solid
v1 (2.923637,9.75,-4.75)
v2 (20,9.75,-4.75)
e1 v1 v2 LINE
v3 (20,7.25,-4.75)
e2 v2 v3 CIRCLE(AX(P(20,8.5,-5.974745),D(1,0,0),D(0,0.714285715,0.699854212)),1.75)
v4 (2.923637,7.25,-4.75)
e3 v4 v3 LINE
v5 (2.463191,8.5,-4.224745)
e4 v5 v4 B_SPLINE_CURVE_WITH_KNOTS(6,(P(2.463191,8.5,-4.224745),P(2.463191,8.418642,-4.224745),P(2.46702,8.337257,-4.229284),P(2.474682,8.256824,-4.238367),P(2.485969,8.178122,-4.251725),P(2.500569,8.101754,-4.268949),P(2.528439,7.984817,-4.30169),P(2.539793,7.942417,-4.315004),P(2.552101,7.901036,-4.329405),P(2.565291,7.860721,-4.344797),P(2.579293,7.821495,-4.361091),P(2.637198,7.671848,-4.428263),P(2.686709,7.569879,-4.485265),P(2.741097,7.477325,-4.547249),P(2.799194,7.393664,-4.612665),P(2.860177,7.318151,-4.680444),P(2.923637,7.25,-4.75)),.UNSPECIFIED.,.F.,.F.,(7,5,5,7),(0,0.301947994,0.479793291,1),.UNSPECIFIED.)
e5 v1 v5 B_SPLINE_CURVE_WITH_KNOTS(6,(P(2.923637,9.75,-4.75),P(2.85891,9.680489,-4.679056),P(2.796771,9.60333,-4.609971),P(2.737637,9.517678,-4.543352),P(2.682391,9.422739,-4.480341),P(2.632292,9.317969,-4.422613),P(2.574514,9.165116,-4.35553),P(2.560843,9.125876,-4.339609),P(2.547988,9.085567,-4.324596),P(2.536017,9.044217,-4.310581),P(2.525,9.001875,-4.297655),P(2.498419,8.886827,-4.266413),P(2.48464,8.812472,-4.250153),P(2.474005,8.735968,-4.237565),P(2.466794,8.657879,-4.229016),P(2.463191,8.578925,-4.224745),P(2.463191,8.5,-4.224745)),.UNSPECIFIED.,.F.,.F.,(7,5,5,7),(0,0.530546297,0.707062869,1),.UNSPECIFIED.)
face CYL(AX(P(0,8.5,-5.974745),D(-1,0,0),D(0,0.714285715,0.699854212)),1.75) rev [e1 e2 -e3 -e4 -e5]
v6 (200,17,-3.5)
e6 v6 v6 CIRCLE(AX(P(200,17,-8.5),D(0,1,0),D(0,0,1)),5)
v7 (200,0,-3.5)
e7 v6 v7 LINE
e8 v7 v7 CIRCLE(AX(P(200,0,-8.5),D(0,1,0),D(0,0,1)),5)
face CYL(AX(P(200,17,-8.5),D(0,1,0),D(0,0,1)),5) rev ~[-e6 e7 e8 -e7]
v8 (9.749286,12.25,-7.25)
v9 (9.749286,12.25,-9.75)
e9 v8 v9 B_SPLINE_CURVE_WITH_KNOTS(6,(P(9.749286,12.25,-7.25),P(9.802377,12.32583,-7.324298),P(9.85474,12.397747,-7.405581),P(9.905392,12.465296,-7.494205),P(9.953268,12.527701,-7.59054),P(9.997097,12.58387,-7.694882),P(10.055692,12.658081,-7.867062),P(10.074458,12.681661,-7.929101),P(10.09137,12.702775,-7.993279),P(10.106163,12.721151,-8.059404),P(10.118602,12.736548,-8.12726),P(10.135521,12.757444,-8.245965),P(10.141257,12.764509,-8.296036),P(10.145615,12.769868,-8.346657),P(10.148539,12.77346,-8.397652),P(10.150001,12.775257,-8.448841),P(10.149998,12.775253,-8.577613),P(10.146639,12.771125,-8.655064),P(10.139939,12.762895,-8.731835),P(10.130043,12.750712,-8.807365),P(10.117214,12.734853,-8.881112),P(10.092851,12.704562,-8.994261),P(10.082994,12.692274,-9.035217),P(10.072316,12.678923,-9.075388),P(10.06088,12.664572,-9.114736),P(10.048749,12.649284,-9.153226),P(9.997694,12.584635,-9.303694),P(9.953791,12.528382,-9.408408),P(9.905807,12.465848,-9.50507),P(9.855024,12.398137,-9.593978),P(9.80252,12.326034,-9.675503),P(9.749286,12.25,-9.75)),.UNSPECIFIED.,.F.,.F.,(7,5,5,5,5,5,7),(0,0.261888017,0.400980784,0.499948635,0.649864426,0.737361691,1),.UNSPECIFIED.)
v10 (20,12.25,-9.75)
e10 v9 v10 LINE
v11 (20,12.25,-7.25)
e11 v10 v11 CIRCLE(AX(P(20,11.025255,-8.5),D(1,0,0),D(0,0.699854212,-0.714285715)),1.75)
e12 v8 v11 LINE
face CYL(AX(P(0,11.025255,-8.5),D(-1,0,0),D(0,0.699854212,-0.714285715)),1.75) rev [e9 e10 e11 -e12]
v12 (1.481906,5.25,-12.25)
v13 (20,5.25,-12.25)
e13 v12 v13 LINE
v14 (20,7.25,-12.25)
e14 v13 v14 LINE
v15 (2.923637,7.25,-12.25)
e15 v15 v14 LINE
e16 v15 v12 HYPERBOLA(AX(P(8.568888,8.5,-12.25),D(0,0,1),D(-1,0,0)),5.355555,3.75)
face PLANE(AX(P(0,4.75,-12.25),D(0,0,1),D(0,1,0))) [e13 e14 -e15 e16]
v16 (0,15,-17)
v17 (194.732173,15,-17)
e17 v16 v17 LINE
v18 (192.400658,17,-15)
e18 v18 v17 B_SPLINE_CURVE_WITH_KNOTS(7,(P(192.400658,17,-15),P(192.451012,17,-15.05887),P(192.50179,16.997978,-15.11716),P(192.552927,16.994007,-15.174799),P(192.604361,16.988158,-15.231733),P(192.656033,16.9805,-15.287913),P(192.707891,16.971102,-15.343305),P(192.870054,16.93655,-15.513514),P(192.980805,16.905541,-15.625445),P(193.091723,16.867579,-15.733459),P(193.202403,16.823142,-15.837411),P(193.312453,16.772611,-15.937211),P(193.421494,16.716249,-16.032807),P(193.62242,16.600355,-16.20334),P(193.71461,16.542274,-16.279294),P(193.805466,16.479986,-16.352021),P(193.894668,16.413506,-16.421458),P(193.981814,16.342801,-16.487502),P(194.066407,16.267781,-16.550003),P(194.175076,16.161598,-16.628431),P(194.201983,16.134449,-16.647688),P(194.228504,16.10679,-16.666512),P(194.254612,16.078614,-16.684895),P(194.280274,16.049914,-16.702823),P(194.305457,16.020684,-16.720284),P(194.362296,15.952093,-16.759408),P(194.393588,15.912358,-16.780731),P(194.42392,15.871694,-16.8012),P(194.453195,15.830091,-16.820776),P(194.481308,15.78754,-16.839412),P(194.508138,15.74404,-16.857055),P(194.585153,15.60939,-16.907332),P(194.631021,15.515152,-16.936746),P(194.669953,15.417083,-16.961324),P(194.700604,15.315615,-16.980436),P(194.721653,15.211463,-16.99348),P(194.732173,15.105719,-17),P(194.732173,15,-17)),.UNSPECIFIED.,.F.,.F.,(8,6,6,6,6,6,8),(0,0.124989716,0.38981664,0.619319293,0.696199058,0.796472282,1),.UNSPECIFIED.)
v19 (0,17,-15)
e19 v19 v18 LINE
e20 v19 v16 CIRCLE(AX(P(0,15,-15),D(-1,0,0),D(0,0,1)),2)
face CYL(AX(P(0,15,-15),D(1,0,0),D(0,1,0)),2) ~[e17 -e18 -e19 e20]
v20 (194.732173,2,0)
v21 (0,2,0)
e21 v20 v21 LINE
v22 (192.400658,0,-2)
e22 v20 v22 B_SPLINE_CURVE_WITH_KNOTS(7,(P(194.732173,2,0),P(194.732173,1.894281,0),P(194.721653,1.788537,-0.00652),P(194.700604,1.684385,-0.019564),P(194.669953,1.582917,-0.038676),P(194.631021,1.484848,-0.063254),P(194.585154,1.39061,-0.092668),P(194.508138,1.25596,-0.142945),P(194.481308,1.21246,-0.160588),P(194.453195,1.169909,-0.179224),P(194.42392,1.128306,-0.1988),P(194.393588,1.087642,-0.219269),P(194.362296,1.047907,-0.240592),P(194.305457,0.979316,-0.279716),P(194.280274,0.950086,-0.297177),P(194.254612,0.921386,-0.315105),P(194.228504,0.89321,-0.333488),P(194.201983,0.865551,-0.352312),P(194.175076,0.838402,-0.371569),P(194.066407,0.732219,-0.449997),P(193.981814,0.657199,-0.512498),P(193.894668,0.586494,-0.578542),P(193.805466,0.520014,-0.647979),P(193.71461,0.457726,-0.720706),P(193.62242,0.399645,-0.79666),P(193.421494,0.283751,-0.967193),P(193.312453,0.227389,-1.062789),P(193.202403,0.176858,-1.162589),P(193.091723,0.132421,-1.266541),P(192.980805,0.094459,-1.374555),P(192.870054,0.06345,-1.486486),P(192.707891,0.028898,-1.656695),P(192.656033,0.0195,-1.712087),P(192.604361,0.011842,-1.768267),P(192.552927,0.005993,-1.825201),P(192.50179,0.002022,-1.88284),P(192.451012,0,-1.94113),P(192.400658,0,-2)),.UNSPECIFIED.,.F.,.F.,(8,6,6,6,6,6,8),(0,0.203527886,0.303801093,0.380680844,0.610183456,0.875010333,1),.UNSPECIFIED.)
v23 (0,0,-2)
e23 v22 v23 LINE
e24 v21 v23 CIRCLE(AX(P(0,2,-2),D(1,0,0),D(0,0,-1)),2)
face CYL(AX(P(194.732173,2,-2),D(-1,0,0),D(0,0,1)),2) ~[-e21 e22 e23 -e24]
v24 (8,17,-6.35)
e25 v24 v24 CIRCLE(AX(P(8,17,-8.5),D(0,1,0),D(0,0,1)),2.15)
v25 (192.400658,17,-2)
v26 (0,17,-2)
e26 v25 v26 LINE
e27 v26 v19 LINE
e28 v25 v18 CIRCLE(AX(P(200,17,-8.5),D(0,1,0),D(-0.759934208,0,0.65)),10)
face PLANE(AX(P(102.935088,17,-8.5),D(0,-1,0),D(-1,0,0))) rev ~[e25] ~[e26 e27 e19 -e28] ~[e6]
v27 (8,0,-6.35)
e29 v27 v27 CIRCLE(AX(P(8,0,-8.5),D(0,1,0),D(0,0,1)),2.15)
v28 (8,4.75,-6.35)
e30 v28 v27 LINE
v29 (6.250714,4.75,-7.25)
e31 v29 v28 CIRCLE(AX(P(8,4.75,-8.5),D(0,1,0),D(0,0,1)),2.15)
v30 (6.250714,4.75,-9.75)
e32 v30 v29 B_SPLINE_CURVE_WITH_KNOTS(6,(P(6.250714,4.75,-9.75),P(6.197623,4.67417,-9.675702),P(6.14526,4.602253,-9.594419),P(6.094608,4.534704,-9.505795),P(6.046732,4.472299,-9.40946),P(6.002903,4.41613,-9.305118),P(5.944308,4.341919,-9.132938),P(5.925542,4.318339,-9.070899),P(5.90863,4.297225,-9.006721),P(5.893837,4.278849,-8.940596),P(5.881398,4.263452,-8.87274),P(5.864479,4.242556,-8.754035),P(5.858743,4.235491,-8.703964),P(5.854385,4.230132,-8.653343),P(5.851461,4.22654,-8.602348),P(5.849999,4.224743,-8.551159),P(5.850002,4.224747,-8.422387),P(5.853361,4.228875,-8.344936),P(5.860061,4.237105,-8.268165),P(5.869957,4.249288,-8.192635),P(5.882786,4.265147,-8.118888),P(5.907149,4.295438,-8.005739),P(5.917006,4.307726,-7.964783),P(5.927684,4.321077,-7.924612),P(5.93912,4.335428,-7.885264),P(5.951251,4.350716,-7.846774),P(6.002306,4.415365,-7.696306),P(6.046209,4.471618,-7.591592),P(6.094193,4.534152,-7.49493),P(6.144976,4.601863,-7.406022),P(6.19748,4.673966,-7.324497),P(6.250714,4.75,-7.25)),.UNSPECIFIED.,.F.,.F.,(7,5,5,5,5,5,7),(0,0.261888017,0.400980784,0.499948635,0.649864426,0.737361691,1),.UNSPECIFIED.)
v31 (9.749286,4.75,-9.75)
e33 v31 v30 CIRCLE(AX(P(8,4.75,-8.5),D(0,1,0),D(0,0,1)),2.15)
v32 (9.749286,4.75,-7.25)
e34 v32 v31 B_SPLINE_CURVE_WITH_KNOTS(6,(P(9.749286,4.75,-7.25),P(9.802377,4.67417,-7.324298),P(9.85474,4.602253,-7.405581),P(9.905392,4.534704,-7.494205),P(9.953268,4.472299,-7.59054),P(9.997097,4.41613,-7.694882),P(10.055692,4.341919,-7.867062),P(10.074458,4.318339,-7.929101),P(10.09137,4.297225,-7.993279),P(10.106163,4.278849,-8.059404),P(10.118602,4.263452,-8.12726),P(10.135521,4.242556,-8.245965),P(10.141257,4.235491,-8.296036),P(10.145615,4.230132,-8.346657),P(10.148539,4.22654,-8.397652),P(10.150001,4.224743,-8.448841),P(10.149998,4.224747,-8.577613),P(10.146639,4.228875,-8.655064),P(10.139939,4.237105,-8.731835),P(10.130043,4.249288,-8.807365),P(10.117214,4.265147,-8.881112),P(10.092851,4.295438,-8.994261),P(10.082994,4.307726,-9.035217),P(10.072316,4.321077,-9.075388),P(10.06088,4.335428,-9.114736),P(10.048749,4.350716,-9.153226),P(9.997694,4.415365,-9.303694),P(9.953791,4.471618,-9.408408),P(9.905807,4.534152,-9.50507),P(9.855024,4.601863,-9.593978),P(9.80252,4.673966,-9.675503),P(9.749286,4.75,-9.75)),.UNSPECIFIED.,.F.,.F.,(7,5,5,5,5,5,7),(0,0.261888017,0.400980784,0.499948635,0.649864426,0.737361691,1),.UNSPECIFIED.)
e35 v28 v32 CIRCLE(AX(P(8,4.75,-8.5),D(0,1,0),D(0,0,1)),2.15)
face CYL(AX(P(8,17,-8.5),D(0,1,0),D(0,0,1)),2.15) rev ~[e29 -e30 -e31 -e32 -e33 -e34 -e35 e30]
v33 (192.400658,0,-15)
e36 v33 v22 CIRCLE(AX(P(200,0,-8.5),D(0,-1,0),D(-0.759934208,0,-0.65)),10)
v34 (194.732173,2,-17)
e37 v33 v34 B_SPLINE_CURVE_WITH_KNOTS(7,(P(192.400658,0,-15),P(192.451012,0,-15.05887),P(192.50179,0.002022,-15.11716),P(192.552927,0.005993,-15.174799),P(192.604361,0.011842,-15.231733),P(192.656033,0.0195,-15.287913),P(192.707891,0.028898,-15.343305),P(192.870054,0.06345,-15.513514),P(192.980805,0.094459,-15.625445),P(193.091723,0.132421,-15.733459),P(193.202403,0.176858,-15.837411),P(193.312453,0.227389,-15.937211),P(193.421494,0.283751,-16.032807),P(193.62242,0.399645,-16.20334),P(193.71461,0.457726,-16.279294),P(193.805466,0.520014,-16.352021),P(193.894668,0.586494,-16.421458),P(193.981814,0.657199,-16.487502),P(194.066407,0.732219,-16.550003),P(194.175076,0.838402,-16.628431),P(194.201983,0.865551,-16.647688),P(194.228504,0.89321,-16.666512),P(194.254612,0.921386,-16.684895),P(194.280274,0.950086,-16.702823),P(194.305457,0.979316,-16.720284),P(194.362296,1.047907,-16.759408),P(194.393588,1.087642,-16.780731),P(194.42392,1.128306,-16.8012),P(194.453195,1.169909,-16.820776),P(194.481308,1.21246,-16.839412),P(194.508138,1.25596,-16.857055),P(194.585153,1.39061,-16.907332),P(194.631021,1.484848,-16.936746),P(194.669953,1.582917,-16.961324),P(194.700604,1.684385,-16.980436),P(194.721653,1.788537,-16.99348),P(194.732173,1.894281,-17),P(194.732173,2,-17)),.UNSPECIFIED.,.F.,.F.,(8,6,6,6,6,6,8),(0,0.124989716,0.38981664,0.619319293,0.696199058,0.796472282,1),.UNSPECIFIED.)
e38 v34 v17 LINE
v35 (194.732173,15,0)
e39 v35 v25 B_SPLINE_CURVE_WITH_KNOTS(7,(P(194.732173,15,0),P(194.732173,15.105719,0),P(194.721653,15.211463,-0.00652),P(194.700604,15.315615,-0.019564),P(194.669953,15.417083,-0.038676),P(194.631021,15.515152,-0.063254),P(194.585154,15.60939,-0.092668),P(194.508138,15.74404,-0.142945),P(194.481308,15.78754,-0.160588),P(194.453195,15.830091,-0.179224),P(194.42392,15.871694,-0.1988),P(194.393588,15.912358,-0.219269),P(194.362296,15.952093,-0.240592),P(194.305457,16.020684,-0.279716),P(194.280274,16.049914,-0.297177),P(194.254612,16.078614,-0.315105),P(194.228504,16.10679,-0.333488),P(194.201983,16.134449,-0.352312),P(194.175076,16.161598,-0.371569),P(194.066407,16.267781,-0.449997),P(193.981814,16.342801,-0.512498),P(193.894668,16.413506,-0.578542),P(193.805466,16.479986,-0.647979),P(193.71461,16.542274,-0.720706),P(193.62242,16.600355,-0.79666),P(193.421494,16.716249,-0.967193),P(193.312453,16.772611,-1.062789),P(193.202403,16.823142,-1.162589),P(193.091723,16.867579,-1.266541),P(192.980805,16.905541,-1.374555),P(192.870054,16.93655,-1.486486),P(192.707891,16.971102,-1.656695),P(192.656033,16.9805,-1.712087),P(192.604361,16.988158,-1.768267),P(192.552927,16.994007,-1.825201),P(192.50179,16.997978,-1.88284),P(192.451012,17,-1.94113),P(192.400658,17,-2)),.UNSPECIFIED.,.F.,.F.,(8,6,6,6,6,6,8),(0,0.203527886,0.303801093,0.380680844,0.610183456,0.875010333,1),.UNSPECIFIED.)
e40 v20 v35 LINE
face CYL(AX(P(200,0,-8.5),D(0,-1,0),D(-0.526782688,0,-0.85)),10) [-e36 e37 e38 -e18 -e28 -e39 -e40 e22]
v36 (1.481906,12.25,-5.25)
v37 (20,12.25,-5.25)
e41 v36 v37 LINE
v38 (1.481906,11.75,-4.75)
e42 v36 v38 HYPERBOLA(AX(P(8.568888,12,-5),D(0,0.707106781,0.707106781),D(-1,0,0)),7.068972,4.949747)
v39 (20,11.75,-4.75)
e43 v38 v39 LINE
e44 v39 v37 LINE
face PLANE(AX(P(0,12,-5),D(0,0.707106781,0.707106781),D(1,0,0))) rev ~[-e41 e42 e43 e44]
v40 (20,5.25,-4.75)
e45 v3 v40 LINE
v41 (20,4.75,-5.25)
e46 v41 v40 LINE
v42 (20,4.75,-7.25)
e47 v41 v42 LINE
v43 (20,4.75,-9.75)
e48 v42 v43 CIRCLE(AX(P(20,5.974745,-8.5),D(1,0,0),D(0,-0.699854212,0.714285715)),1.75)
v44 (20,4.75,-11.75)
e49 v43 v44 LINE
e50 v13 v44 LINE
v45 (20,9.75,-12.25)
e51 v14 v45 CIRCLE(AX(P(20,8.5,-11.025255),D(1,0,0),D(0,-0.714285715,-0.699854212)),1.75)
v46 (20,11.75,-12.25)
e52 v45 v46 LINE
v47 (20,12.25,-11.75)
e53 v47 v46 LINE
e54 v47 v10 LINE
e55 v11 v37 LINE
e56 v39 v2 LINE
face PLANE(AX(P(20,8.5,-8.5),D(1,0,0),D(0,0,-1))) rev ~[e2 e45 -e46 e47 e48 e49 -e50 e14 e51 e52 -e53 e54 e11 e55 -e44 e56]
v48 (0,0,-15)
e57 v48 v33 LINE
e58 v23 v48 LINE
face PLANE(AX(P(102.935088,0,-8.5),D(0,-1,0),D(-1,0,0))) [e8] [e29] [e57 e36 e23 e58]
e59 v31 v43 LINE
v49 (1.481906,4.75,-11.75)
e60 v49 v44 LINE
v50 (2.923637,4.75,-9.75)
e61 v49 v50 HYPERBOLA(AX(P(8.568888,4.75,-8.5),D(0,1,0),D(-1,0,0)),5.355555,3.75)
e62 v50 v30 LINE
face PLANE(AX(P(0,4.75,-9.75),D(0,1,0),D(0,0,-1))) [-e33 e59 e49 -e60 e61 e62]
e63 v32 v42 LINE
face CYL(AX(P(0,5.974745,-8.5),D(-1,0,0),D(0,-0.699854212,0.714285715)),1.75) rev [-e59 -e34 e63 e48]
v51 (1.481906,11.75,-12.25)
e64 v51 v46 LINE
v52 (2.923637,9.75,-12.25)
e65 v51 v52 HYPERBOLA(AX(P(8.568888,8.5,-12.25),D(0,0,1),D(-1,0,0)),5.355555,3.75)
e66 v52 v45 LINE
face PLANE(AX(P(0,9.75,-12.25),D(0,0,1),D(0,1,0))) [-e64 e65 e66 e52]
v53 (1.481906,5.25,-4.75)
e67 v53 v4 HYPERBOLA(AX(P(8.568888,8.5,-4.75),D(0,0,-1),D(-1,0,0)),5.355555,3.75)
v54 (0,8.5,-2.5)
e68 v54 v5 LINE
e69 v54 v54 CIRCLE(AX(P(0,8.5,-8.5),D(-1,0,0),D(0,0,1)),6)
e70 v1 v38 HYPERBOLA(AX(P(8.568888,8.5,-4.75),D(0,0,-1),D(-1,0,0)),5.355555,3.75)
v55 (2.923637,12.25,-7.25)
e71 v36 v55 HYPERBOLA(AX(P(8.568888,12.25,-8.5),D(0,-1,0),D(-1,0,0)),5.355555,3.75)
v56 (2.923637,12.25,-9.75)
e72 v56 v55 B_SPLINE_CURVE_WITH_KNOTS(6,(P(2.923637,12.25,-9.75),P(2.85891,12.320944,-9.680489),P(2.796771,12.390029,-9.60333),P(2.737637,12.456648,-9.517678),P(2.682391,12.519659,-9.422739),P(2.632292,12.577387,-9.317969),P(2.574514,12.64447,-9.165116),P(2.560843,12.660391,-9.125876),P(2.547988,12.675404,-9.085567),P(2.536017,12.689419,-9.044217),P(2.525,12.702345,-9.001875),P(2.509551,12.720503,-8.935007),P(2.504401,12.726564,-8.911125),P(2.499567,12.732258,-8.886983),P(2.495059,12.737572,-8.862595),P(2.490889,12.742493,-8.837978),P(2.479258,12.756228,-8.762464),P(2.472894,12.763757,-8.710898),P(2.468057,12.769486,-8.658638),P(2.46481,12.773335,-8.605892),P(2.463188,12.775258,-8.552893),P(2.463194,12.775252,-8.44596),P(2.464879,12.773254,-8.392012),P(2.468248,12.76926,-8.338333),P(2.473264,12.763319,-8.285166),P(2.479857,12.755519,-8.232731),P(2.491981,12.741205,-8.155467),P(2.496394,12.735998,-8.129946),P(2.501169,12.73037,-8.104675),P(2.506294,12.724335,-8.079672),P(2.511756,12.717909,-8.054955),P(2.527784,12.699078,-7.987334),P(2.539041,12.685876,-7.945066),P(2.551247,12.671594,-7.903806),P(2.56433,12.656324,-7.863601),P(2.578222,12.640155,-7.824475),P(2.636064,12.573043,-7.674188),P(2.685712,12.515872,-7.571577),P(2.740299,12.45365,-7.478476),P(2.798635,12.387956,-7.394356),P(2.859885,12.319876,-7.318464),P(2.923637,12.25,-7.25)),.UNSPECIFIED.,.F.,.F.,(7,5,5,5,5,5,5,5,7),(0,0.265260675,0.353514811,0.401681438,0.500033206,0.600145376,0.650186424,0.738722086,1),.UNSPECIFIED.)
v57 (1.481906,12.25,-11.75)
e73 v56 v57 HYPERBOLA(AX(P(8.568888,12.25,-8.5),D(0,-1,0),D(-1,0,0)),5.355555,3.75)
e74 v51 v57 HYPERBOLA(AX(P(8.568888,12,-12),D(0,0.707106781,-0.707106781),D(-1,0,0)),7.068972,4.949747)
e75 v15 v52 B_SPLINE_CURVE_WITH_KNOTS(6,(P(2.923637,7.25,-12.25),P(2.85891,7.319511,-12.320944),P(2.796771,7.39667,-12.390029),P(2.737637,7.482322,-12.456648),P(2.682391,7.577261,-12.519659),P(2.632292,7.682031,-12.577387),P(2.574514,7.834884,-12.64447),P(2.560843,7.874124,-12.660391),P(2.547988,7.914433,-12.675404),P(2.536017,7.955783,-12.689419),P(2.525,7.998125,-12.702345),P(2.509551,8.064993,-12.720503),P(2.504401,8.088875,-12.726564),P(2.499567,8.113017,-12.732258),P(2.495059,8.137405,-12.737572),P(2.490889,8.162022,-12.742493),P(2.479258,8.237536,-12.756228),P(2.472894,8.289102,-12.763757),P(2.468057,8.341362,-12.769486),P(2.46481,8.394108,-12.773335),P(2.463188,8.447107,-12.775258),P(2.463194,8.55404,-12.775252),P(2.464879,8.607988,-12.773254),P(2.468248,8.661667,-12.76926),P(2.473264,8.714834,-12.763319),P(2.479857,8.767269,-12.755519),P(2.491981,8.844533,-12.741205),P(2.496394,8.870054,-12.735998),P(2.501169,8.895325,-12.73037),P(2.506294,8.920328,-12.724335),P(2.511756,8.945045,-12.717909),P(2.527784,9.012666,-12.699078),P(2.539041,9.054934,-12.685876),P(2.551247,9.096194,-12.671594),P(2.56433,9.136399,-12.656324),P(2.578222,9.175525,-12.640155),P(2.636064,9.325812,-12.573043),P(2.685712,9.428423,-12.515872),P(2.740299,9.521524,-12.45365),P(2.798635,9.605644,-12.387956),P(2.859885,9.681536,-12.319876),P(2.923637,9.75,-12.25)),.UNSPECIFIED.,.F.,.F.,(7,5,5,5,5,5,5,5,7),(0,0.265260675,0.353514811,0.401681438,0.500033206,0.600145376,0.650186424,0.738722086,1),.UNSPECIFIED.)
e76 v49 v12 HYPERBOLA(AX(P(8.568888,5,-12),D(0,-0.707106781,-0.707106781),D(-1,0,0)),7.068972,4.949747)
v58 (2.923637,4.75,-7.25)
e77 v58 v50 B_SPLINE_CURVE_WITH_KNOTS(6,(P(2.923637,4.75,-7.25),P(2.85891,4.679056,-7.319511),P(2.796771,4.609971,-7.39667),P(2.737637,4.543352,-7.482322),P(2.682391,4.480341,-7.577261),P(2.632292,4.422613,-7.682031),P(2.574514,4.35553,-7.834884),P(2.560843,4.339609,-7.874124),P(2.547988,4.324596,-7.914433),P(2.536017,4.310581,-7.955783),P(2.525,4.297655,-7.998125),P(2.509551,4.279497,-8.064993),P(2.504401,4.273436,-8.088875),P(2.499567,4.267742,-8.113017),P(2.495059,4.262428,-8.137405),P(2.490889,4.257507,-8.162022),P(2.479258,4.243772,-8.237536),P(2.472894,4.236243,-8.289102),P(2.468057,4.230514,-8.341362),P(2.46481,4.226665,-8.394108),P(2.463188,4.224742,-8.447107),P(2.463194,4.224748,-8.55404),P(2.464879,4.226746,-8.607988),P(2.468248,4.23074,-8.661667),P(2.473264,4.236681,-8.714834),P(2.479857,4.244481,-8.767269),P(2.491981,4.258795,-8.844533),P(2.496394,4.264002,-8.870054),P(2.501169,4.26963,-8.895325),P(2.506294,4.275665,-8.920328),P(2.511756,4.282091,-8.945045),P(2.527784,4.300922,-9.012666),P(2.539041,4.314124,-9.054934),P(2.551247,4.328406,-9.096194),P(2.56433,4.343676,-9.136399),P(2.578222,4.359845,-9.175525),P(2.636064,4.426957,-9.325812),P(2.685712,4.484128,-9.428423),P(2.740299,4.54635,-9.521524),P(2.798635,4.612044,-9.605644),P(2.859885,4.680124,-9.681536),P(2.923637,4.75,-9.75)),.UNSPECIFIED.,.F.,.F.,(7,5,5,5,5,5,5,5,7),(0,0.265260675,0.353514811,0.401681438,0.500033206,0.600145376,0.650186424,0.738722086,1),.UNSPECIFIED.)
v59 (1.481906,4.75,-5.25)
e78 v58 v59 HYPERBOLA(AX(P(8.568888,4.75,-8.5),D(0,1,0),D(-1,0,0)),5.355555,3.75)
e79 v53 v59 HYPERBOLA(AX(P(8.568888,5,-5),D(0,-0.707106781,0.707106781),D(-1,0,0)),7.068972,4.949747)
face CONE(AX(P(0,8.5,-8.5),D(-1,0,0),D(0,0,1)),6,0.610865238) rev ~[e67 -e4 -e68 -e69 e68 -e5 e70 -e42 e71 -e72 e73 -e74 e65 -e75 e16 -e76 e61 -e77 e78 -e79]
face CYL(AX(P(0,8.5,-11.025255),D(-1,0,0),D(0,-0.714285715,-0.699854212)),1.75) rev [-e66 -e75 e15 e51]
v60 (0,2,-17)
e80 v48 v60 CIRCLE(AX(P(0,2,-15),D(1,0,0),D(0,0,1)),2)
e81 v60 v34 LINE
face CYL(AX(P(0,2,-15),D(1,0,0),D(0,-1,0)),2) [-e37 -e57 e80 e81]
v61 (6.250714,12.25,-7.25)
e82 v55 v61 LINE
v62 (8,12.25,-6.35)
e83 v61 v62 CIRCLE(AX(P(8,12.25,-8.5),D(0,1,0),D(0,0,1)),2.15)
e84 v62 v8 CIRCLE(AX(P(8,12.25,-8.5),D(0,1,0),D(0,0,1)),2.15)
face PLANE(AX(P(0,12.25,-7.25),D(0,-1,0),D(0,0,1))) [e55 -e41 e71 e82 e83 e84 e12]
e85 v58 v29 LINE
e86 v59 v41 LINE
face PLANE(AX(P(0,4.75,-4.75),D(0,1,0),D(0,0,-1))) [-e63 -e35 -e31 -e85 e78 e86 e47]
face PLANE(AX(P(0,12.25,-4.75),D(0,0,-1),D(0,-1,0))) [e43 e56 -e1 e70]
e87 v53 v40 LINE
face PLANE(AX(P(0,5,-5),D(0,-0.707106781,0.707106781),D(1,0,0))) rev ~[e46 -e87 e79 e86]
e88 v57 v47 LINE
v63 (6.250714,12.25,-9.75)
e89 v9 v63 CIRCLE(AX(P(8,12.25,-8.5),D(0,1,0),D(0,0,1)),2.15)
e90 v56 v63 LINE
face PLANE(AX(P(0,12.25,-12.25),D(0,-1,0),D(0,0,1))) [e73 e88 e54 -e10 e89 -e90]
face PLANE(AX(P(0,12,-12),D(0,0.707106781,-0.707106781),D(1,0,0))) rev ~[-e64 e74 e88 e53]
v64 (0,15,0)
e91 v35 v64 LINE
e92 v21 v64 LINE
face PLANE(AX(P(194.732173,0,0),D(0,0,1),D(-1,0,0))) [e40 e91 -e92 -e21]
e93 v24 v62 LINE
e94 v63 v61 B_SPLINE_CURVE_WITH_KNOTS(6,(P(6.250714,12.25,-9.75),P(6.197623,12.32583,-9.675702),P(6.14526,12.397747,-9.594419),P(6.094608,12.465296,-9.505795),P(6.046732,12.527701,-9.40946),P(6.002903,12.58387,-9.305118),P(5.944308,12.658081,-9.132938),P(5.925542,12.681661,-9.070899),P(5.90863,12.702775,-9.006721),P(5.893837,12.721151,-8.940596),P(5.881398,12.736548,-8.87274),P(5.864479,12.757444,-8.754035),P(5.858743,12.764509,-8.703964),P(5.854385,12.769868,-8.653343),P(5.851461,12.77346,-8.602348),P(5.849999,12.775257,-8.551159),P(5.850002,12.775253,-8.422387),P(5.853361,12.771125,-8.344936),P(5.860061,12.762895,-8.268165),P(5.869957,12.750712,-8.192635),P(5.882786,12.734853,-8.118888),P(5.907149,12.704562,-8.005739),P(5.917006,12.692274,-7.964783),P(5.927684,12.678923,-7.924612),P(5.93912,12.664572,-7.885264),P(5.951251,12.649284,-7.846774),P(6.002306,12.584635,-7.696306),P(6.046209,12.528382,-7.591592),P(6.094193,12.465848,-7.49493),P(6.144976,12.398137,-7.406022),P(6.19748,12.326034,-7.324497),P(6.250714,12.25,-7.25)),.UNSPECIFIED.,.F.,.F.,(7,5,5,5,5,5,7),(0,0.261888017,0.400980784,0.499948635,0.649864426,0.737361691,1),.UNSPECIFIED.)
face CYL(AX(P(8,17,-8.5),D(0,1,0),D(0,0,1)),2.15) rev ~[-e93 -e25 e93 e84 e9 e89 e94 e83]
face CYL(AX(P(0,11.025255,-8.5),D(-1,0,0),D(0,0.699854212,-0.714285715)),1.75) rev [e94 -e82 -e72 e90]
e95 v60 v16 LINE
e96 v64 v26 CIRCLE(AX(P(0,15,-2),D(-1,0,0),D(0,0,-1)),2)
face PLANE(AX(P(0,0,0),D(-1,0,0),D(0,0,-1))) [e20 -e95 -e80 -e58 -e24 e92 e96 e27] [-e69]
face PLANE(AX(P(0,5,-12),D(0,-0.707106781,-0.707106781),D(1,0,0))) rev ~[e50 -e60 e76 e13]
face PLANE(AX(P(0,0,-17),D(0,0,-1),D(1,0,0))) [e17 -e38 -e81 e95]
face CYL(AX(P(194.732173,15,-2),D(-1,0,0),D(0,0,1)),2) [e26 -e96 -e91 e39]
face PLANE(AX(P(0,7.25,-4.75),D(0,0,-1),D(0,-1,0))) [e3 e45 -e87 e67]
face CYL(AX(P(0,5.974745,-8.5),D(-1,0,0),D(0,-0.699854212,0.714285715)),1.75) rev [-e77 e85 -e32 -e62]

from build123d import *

# Parameters (mm, degrees)
RESSALTO_EXTRUS_O1_DEPTH = 17
ESBO_O3_R                = 5
CORTE_EXTRUS_O2_DEPTH    = 212.497635921
CORTE_EXTRUS_O3_DEPTH    = 20
CHANFRO1_SIZE            = 0.5
ESBO_O5_R                = 6
CORTE_EXTRUS_O4_DEPTH    = 3.5
CORTE_EXTRUS_O4_DRAFT    = -35
FILETE1_R                = 2
ESBO_O6_R                = 2.15
CORTE_EXTRUS_O5_DEPTH    = 212.497636037


with BuildPart() as part:
    # Esboço1 → Ressalto-extrusão1 (new body)
    with BuildSketch(Plane(origin=(0, 0, 0), x_dir=(1, 0, 0), z_dir=(0, 1, 0))):
        with BuildLine():
            Line((0, 17), (194.732173124, 17))
            ThreePointArc((194.732173124, 17), (210, 8.5), (194.732173124, 0))
            Line((194.732173124, 0), (0, 0))
            Line((0, 0), (0, 17))
        make_face()
    extrude(amount=RESSALTO_EXTRUS_O1_DEPTH)

    # Esboço3 → Corte-extrusão2 (cut, through all)
    with BuildSketch(Plane(origin=(0, 17, 0), x_dir=(1, 0, 0), z_dir=(0, 1, 0))):
        with Locations((200, 8.5)):
            Circle(ESBO_O3_R)
    extrude(amount=-CORTE_EXTRUS_O2_DEPTH, mode=Mode.SUBTRACT)

    # Esboço4 → Corte-extrusão3 (cut)
    with BuildSketch(Plane.ZY):
        with BuildLine():
            Line((-7.25, 12.25), (-4.75, 12.25))
            Line((-4.75, 12.25), (-4.75, 9.75))
            ThreePointArc((-4.75, 9.75), (-4.224744871, 8.5), (-4.75, 7.25))
            Line((-4.75, 7.25), (-4.75, 4.75))
            Line((-4.75, 4.75), (-7.25, 4.75))
            ThreePointArc((-7.25, 4.75), (-8.5, 4.224744871), (-9.75, 4.75))
            Line((-9.75, 4.75), (-12.25, 4.75))
            Line((-12.25, 4.75), (-12.25, 7.25))
            ThreePointArc((-12.25, 7.25), (-12.775255129, 8.5), (-12.25, 9.75))
            Line((-12.25, 9.75), (-12.25, 12.25))
            Line((-12.25, 12.25), (-9.75, 12.25))
            ThreePointArc((-9.75, 12.25), (-8.5, 12.775255129), (-7.25, 12.25))
        make_face()
    extrude(amount=-CORTE_EXTRUS_O3_DEPTH, mode=Mode.SUBTRACT)

    # Chanfro1
    chanfro1_edges = [part.edges().sort_by_distance(p)[0] for p in [
        (10, 4.75, -12.25),
        (10, 12.25, -12.25),
        (10, 12.25, -4.75),
        (10, 4.75, -4.75),
    ]]
    chamfer(chanfro1_edges, length=CHANFRO1_SIZE)


with BuildPart() as corte_extrus_o4_tool:
    # Esboço5 → Corte-extrusão4 (with draft: the straight prism first)
    with BuildSketch(Plane.ZY):
        with Locations((-8.5, 8.5)):
            Circle(ESBO_O5_R)
    extrude(amount=-CORTE_EXTRUS_O4_DEPTH)
    # Corte-extrusão4: the draft: its side faces are tilted about the plane it starts from
    corte_extrus_o4_sides = [corte_extrus_o4_tool.faces().sort_by_distance(p)[0] for p in [
        (1.75, 8.5, -14.5),
    ]]
    draft(corte_extrus_o4_sides, Plane.ZY, CORTE_EXTRUS_O4_DRAFT)


with BuildPart() as part_1:
    add(part.part)

    # Corte-extrusão4: cut by corte_extrus_o4_tool
    add(corte_extrus_o4_tool.part, mode=Mode.SUBTRACT)

    # Filete1
    filete1_edges = [part_1.edges().sort_by_distance(p)[0] for p in [
        (97.366086562, 0, 0),
        (97.366086562, 17, 0),
        (97.366086562, 0, -17),
        (97.366086562, 17, -17),
    ]]
    fillet(filete1_edges, radius=FILETE1_R)

    # Esboço6 → Corte-extrusão5 (cut, through all)
    with BuildSketch(Plane(origin=(0, 17, 0), x_dir=(1, 0, 0), z_dir=(0, 1, 0))):
        with Locations((8, 8.5)):
            Circle(ESBO_O6_R)
    extrude(amount=-CORTE_EXTRUS_O5_DEPTH, mode=Mode.SUBTRACT)


solid = part_1.part
